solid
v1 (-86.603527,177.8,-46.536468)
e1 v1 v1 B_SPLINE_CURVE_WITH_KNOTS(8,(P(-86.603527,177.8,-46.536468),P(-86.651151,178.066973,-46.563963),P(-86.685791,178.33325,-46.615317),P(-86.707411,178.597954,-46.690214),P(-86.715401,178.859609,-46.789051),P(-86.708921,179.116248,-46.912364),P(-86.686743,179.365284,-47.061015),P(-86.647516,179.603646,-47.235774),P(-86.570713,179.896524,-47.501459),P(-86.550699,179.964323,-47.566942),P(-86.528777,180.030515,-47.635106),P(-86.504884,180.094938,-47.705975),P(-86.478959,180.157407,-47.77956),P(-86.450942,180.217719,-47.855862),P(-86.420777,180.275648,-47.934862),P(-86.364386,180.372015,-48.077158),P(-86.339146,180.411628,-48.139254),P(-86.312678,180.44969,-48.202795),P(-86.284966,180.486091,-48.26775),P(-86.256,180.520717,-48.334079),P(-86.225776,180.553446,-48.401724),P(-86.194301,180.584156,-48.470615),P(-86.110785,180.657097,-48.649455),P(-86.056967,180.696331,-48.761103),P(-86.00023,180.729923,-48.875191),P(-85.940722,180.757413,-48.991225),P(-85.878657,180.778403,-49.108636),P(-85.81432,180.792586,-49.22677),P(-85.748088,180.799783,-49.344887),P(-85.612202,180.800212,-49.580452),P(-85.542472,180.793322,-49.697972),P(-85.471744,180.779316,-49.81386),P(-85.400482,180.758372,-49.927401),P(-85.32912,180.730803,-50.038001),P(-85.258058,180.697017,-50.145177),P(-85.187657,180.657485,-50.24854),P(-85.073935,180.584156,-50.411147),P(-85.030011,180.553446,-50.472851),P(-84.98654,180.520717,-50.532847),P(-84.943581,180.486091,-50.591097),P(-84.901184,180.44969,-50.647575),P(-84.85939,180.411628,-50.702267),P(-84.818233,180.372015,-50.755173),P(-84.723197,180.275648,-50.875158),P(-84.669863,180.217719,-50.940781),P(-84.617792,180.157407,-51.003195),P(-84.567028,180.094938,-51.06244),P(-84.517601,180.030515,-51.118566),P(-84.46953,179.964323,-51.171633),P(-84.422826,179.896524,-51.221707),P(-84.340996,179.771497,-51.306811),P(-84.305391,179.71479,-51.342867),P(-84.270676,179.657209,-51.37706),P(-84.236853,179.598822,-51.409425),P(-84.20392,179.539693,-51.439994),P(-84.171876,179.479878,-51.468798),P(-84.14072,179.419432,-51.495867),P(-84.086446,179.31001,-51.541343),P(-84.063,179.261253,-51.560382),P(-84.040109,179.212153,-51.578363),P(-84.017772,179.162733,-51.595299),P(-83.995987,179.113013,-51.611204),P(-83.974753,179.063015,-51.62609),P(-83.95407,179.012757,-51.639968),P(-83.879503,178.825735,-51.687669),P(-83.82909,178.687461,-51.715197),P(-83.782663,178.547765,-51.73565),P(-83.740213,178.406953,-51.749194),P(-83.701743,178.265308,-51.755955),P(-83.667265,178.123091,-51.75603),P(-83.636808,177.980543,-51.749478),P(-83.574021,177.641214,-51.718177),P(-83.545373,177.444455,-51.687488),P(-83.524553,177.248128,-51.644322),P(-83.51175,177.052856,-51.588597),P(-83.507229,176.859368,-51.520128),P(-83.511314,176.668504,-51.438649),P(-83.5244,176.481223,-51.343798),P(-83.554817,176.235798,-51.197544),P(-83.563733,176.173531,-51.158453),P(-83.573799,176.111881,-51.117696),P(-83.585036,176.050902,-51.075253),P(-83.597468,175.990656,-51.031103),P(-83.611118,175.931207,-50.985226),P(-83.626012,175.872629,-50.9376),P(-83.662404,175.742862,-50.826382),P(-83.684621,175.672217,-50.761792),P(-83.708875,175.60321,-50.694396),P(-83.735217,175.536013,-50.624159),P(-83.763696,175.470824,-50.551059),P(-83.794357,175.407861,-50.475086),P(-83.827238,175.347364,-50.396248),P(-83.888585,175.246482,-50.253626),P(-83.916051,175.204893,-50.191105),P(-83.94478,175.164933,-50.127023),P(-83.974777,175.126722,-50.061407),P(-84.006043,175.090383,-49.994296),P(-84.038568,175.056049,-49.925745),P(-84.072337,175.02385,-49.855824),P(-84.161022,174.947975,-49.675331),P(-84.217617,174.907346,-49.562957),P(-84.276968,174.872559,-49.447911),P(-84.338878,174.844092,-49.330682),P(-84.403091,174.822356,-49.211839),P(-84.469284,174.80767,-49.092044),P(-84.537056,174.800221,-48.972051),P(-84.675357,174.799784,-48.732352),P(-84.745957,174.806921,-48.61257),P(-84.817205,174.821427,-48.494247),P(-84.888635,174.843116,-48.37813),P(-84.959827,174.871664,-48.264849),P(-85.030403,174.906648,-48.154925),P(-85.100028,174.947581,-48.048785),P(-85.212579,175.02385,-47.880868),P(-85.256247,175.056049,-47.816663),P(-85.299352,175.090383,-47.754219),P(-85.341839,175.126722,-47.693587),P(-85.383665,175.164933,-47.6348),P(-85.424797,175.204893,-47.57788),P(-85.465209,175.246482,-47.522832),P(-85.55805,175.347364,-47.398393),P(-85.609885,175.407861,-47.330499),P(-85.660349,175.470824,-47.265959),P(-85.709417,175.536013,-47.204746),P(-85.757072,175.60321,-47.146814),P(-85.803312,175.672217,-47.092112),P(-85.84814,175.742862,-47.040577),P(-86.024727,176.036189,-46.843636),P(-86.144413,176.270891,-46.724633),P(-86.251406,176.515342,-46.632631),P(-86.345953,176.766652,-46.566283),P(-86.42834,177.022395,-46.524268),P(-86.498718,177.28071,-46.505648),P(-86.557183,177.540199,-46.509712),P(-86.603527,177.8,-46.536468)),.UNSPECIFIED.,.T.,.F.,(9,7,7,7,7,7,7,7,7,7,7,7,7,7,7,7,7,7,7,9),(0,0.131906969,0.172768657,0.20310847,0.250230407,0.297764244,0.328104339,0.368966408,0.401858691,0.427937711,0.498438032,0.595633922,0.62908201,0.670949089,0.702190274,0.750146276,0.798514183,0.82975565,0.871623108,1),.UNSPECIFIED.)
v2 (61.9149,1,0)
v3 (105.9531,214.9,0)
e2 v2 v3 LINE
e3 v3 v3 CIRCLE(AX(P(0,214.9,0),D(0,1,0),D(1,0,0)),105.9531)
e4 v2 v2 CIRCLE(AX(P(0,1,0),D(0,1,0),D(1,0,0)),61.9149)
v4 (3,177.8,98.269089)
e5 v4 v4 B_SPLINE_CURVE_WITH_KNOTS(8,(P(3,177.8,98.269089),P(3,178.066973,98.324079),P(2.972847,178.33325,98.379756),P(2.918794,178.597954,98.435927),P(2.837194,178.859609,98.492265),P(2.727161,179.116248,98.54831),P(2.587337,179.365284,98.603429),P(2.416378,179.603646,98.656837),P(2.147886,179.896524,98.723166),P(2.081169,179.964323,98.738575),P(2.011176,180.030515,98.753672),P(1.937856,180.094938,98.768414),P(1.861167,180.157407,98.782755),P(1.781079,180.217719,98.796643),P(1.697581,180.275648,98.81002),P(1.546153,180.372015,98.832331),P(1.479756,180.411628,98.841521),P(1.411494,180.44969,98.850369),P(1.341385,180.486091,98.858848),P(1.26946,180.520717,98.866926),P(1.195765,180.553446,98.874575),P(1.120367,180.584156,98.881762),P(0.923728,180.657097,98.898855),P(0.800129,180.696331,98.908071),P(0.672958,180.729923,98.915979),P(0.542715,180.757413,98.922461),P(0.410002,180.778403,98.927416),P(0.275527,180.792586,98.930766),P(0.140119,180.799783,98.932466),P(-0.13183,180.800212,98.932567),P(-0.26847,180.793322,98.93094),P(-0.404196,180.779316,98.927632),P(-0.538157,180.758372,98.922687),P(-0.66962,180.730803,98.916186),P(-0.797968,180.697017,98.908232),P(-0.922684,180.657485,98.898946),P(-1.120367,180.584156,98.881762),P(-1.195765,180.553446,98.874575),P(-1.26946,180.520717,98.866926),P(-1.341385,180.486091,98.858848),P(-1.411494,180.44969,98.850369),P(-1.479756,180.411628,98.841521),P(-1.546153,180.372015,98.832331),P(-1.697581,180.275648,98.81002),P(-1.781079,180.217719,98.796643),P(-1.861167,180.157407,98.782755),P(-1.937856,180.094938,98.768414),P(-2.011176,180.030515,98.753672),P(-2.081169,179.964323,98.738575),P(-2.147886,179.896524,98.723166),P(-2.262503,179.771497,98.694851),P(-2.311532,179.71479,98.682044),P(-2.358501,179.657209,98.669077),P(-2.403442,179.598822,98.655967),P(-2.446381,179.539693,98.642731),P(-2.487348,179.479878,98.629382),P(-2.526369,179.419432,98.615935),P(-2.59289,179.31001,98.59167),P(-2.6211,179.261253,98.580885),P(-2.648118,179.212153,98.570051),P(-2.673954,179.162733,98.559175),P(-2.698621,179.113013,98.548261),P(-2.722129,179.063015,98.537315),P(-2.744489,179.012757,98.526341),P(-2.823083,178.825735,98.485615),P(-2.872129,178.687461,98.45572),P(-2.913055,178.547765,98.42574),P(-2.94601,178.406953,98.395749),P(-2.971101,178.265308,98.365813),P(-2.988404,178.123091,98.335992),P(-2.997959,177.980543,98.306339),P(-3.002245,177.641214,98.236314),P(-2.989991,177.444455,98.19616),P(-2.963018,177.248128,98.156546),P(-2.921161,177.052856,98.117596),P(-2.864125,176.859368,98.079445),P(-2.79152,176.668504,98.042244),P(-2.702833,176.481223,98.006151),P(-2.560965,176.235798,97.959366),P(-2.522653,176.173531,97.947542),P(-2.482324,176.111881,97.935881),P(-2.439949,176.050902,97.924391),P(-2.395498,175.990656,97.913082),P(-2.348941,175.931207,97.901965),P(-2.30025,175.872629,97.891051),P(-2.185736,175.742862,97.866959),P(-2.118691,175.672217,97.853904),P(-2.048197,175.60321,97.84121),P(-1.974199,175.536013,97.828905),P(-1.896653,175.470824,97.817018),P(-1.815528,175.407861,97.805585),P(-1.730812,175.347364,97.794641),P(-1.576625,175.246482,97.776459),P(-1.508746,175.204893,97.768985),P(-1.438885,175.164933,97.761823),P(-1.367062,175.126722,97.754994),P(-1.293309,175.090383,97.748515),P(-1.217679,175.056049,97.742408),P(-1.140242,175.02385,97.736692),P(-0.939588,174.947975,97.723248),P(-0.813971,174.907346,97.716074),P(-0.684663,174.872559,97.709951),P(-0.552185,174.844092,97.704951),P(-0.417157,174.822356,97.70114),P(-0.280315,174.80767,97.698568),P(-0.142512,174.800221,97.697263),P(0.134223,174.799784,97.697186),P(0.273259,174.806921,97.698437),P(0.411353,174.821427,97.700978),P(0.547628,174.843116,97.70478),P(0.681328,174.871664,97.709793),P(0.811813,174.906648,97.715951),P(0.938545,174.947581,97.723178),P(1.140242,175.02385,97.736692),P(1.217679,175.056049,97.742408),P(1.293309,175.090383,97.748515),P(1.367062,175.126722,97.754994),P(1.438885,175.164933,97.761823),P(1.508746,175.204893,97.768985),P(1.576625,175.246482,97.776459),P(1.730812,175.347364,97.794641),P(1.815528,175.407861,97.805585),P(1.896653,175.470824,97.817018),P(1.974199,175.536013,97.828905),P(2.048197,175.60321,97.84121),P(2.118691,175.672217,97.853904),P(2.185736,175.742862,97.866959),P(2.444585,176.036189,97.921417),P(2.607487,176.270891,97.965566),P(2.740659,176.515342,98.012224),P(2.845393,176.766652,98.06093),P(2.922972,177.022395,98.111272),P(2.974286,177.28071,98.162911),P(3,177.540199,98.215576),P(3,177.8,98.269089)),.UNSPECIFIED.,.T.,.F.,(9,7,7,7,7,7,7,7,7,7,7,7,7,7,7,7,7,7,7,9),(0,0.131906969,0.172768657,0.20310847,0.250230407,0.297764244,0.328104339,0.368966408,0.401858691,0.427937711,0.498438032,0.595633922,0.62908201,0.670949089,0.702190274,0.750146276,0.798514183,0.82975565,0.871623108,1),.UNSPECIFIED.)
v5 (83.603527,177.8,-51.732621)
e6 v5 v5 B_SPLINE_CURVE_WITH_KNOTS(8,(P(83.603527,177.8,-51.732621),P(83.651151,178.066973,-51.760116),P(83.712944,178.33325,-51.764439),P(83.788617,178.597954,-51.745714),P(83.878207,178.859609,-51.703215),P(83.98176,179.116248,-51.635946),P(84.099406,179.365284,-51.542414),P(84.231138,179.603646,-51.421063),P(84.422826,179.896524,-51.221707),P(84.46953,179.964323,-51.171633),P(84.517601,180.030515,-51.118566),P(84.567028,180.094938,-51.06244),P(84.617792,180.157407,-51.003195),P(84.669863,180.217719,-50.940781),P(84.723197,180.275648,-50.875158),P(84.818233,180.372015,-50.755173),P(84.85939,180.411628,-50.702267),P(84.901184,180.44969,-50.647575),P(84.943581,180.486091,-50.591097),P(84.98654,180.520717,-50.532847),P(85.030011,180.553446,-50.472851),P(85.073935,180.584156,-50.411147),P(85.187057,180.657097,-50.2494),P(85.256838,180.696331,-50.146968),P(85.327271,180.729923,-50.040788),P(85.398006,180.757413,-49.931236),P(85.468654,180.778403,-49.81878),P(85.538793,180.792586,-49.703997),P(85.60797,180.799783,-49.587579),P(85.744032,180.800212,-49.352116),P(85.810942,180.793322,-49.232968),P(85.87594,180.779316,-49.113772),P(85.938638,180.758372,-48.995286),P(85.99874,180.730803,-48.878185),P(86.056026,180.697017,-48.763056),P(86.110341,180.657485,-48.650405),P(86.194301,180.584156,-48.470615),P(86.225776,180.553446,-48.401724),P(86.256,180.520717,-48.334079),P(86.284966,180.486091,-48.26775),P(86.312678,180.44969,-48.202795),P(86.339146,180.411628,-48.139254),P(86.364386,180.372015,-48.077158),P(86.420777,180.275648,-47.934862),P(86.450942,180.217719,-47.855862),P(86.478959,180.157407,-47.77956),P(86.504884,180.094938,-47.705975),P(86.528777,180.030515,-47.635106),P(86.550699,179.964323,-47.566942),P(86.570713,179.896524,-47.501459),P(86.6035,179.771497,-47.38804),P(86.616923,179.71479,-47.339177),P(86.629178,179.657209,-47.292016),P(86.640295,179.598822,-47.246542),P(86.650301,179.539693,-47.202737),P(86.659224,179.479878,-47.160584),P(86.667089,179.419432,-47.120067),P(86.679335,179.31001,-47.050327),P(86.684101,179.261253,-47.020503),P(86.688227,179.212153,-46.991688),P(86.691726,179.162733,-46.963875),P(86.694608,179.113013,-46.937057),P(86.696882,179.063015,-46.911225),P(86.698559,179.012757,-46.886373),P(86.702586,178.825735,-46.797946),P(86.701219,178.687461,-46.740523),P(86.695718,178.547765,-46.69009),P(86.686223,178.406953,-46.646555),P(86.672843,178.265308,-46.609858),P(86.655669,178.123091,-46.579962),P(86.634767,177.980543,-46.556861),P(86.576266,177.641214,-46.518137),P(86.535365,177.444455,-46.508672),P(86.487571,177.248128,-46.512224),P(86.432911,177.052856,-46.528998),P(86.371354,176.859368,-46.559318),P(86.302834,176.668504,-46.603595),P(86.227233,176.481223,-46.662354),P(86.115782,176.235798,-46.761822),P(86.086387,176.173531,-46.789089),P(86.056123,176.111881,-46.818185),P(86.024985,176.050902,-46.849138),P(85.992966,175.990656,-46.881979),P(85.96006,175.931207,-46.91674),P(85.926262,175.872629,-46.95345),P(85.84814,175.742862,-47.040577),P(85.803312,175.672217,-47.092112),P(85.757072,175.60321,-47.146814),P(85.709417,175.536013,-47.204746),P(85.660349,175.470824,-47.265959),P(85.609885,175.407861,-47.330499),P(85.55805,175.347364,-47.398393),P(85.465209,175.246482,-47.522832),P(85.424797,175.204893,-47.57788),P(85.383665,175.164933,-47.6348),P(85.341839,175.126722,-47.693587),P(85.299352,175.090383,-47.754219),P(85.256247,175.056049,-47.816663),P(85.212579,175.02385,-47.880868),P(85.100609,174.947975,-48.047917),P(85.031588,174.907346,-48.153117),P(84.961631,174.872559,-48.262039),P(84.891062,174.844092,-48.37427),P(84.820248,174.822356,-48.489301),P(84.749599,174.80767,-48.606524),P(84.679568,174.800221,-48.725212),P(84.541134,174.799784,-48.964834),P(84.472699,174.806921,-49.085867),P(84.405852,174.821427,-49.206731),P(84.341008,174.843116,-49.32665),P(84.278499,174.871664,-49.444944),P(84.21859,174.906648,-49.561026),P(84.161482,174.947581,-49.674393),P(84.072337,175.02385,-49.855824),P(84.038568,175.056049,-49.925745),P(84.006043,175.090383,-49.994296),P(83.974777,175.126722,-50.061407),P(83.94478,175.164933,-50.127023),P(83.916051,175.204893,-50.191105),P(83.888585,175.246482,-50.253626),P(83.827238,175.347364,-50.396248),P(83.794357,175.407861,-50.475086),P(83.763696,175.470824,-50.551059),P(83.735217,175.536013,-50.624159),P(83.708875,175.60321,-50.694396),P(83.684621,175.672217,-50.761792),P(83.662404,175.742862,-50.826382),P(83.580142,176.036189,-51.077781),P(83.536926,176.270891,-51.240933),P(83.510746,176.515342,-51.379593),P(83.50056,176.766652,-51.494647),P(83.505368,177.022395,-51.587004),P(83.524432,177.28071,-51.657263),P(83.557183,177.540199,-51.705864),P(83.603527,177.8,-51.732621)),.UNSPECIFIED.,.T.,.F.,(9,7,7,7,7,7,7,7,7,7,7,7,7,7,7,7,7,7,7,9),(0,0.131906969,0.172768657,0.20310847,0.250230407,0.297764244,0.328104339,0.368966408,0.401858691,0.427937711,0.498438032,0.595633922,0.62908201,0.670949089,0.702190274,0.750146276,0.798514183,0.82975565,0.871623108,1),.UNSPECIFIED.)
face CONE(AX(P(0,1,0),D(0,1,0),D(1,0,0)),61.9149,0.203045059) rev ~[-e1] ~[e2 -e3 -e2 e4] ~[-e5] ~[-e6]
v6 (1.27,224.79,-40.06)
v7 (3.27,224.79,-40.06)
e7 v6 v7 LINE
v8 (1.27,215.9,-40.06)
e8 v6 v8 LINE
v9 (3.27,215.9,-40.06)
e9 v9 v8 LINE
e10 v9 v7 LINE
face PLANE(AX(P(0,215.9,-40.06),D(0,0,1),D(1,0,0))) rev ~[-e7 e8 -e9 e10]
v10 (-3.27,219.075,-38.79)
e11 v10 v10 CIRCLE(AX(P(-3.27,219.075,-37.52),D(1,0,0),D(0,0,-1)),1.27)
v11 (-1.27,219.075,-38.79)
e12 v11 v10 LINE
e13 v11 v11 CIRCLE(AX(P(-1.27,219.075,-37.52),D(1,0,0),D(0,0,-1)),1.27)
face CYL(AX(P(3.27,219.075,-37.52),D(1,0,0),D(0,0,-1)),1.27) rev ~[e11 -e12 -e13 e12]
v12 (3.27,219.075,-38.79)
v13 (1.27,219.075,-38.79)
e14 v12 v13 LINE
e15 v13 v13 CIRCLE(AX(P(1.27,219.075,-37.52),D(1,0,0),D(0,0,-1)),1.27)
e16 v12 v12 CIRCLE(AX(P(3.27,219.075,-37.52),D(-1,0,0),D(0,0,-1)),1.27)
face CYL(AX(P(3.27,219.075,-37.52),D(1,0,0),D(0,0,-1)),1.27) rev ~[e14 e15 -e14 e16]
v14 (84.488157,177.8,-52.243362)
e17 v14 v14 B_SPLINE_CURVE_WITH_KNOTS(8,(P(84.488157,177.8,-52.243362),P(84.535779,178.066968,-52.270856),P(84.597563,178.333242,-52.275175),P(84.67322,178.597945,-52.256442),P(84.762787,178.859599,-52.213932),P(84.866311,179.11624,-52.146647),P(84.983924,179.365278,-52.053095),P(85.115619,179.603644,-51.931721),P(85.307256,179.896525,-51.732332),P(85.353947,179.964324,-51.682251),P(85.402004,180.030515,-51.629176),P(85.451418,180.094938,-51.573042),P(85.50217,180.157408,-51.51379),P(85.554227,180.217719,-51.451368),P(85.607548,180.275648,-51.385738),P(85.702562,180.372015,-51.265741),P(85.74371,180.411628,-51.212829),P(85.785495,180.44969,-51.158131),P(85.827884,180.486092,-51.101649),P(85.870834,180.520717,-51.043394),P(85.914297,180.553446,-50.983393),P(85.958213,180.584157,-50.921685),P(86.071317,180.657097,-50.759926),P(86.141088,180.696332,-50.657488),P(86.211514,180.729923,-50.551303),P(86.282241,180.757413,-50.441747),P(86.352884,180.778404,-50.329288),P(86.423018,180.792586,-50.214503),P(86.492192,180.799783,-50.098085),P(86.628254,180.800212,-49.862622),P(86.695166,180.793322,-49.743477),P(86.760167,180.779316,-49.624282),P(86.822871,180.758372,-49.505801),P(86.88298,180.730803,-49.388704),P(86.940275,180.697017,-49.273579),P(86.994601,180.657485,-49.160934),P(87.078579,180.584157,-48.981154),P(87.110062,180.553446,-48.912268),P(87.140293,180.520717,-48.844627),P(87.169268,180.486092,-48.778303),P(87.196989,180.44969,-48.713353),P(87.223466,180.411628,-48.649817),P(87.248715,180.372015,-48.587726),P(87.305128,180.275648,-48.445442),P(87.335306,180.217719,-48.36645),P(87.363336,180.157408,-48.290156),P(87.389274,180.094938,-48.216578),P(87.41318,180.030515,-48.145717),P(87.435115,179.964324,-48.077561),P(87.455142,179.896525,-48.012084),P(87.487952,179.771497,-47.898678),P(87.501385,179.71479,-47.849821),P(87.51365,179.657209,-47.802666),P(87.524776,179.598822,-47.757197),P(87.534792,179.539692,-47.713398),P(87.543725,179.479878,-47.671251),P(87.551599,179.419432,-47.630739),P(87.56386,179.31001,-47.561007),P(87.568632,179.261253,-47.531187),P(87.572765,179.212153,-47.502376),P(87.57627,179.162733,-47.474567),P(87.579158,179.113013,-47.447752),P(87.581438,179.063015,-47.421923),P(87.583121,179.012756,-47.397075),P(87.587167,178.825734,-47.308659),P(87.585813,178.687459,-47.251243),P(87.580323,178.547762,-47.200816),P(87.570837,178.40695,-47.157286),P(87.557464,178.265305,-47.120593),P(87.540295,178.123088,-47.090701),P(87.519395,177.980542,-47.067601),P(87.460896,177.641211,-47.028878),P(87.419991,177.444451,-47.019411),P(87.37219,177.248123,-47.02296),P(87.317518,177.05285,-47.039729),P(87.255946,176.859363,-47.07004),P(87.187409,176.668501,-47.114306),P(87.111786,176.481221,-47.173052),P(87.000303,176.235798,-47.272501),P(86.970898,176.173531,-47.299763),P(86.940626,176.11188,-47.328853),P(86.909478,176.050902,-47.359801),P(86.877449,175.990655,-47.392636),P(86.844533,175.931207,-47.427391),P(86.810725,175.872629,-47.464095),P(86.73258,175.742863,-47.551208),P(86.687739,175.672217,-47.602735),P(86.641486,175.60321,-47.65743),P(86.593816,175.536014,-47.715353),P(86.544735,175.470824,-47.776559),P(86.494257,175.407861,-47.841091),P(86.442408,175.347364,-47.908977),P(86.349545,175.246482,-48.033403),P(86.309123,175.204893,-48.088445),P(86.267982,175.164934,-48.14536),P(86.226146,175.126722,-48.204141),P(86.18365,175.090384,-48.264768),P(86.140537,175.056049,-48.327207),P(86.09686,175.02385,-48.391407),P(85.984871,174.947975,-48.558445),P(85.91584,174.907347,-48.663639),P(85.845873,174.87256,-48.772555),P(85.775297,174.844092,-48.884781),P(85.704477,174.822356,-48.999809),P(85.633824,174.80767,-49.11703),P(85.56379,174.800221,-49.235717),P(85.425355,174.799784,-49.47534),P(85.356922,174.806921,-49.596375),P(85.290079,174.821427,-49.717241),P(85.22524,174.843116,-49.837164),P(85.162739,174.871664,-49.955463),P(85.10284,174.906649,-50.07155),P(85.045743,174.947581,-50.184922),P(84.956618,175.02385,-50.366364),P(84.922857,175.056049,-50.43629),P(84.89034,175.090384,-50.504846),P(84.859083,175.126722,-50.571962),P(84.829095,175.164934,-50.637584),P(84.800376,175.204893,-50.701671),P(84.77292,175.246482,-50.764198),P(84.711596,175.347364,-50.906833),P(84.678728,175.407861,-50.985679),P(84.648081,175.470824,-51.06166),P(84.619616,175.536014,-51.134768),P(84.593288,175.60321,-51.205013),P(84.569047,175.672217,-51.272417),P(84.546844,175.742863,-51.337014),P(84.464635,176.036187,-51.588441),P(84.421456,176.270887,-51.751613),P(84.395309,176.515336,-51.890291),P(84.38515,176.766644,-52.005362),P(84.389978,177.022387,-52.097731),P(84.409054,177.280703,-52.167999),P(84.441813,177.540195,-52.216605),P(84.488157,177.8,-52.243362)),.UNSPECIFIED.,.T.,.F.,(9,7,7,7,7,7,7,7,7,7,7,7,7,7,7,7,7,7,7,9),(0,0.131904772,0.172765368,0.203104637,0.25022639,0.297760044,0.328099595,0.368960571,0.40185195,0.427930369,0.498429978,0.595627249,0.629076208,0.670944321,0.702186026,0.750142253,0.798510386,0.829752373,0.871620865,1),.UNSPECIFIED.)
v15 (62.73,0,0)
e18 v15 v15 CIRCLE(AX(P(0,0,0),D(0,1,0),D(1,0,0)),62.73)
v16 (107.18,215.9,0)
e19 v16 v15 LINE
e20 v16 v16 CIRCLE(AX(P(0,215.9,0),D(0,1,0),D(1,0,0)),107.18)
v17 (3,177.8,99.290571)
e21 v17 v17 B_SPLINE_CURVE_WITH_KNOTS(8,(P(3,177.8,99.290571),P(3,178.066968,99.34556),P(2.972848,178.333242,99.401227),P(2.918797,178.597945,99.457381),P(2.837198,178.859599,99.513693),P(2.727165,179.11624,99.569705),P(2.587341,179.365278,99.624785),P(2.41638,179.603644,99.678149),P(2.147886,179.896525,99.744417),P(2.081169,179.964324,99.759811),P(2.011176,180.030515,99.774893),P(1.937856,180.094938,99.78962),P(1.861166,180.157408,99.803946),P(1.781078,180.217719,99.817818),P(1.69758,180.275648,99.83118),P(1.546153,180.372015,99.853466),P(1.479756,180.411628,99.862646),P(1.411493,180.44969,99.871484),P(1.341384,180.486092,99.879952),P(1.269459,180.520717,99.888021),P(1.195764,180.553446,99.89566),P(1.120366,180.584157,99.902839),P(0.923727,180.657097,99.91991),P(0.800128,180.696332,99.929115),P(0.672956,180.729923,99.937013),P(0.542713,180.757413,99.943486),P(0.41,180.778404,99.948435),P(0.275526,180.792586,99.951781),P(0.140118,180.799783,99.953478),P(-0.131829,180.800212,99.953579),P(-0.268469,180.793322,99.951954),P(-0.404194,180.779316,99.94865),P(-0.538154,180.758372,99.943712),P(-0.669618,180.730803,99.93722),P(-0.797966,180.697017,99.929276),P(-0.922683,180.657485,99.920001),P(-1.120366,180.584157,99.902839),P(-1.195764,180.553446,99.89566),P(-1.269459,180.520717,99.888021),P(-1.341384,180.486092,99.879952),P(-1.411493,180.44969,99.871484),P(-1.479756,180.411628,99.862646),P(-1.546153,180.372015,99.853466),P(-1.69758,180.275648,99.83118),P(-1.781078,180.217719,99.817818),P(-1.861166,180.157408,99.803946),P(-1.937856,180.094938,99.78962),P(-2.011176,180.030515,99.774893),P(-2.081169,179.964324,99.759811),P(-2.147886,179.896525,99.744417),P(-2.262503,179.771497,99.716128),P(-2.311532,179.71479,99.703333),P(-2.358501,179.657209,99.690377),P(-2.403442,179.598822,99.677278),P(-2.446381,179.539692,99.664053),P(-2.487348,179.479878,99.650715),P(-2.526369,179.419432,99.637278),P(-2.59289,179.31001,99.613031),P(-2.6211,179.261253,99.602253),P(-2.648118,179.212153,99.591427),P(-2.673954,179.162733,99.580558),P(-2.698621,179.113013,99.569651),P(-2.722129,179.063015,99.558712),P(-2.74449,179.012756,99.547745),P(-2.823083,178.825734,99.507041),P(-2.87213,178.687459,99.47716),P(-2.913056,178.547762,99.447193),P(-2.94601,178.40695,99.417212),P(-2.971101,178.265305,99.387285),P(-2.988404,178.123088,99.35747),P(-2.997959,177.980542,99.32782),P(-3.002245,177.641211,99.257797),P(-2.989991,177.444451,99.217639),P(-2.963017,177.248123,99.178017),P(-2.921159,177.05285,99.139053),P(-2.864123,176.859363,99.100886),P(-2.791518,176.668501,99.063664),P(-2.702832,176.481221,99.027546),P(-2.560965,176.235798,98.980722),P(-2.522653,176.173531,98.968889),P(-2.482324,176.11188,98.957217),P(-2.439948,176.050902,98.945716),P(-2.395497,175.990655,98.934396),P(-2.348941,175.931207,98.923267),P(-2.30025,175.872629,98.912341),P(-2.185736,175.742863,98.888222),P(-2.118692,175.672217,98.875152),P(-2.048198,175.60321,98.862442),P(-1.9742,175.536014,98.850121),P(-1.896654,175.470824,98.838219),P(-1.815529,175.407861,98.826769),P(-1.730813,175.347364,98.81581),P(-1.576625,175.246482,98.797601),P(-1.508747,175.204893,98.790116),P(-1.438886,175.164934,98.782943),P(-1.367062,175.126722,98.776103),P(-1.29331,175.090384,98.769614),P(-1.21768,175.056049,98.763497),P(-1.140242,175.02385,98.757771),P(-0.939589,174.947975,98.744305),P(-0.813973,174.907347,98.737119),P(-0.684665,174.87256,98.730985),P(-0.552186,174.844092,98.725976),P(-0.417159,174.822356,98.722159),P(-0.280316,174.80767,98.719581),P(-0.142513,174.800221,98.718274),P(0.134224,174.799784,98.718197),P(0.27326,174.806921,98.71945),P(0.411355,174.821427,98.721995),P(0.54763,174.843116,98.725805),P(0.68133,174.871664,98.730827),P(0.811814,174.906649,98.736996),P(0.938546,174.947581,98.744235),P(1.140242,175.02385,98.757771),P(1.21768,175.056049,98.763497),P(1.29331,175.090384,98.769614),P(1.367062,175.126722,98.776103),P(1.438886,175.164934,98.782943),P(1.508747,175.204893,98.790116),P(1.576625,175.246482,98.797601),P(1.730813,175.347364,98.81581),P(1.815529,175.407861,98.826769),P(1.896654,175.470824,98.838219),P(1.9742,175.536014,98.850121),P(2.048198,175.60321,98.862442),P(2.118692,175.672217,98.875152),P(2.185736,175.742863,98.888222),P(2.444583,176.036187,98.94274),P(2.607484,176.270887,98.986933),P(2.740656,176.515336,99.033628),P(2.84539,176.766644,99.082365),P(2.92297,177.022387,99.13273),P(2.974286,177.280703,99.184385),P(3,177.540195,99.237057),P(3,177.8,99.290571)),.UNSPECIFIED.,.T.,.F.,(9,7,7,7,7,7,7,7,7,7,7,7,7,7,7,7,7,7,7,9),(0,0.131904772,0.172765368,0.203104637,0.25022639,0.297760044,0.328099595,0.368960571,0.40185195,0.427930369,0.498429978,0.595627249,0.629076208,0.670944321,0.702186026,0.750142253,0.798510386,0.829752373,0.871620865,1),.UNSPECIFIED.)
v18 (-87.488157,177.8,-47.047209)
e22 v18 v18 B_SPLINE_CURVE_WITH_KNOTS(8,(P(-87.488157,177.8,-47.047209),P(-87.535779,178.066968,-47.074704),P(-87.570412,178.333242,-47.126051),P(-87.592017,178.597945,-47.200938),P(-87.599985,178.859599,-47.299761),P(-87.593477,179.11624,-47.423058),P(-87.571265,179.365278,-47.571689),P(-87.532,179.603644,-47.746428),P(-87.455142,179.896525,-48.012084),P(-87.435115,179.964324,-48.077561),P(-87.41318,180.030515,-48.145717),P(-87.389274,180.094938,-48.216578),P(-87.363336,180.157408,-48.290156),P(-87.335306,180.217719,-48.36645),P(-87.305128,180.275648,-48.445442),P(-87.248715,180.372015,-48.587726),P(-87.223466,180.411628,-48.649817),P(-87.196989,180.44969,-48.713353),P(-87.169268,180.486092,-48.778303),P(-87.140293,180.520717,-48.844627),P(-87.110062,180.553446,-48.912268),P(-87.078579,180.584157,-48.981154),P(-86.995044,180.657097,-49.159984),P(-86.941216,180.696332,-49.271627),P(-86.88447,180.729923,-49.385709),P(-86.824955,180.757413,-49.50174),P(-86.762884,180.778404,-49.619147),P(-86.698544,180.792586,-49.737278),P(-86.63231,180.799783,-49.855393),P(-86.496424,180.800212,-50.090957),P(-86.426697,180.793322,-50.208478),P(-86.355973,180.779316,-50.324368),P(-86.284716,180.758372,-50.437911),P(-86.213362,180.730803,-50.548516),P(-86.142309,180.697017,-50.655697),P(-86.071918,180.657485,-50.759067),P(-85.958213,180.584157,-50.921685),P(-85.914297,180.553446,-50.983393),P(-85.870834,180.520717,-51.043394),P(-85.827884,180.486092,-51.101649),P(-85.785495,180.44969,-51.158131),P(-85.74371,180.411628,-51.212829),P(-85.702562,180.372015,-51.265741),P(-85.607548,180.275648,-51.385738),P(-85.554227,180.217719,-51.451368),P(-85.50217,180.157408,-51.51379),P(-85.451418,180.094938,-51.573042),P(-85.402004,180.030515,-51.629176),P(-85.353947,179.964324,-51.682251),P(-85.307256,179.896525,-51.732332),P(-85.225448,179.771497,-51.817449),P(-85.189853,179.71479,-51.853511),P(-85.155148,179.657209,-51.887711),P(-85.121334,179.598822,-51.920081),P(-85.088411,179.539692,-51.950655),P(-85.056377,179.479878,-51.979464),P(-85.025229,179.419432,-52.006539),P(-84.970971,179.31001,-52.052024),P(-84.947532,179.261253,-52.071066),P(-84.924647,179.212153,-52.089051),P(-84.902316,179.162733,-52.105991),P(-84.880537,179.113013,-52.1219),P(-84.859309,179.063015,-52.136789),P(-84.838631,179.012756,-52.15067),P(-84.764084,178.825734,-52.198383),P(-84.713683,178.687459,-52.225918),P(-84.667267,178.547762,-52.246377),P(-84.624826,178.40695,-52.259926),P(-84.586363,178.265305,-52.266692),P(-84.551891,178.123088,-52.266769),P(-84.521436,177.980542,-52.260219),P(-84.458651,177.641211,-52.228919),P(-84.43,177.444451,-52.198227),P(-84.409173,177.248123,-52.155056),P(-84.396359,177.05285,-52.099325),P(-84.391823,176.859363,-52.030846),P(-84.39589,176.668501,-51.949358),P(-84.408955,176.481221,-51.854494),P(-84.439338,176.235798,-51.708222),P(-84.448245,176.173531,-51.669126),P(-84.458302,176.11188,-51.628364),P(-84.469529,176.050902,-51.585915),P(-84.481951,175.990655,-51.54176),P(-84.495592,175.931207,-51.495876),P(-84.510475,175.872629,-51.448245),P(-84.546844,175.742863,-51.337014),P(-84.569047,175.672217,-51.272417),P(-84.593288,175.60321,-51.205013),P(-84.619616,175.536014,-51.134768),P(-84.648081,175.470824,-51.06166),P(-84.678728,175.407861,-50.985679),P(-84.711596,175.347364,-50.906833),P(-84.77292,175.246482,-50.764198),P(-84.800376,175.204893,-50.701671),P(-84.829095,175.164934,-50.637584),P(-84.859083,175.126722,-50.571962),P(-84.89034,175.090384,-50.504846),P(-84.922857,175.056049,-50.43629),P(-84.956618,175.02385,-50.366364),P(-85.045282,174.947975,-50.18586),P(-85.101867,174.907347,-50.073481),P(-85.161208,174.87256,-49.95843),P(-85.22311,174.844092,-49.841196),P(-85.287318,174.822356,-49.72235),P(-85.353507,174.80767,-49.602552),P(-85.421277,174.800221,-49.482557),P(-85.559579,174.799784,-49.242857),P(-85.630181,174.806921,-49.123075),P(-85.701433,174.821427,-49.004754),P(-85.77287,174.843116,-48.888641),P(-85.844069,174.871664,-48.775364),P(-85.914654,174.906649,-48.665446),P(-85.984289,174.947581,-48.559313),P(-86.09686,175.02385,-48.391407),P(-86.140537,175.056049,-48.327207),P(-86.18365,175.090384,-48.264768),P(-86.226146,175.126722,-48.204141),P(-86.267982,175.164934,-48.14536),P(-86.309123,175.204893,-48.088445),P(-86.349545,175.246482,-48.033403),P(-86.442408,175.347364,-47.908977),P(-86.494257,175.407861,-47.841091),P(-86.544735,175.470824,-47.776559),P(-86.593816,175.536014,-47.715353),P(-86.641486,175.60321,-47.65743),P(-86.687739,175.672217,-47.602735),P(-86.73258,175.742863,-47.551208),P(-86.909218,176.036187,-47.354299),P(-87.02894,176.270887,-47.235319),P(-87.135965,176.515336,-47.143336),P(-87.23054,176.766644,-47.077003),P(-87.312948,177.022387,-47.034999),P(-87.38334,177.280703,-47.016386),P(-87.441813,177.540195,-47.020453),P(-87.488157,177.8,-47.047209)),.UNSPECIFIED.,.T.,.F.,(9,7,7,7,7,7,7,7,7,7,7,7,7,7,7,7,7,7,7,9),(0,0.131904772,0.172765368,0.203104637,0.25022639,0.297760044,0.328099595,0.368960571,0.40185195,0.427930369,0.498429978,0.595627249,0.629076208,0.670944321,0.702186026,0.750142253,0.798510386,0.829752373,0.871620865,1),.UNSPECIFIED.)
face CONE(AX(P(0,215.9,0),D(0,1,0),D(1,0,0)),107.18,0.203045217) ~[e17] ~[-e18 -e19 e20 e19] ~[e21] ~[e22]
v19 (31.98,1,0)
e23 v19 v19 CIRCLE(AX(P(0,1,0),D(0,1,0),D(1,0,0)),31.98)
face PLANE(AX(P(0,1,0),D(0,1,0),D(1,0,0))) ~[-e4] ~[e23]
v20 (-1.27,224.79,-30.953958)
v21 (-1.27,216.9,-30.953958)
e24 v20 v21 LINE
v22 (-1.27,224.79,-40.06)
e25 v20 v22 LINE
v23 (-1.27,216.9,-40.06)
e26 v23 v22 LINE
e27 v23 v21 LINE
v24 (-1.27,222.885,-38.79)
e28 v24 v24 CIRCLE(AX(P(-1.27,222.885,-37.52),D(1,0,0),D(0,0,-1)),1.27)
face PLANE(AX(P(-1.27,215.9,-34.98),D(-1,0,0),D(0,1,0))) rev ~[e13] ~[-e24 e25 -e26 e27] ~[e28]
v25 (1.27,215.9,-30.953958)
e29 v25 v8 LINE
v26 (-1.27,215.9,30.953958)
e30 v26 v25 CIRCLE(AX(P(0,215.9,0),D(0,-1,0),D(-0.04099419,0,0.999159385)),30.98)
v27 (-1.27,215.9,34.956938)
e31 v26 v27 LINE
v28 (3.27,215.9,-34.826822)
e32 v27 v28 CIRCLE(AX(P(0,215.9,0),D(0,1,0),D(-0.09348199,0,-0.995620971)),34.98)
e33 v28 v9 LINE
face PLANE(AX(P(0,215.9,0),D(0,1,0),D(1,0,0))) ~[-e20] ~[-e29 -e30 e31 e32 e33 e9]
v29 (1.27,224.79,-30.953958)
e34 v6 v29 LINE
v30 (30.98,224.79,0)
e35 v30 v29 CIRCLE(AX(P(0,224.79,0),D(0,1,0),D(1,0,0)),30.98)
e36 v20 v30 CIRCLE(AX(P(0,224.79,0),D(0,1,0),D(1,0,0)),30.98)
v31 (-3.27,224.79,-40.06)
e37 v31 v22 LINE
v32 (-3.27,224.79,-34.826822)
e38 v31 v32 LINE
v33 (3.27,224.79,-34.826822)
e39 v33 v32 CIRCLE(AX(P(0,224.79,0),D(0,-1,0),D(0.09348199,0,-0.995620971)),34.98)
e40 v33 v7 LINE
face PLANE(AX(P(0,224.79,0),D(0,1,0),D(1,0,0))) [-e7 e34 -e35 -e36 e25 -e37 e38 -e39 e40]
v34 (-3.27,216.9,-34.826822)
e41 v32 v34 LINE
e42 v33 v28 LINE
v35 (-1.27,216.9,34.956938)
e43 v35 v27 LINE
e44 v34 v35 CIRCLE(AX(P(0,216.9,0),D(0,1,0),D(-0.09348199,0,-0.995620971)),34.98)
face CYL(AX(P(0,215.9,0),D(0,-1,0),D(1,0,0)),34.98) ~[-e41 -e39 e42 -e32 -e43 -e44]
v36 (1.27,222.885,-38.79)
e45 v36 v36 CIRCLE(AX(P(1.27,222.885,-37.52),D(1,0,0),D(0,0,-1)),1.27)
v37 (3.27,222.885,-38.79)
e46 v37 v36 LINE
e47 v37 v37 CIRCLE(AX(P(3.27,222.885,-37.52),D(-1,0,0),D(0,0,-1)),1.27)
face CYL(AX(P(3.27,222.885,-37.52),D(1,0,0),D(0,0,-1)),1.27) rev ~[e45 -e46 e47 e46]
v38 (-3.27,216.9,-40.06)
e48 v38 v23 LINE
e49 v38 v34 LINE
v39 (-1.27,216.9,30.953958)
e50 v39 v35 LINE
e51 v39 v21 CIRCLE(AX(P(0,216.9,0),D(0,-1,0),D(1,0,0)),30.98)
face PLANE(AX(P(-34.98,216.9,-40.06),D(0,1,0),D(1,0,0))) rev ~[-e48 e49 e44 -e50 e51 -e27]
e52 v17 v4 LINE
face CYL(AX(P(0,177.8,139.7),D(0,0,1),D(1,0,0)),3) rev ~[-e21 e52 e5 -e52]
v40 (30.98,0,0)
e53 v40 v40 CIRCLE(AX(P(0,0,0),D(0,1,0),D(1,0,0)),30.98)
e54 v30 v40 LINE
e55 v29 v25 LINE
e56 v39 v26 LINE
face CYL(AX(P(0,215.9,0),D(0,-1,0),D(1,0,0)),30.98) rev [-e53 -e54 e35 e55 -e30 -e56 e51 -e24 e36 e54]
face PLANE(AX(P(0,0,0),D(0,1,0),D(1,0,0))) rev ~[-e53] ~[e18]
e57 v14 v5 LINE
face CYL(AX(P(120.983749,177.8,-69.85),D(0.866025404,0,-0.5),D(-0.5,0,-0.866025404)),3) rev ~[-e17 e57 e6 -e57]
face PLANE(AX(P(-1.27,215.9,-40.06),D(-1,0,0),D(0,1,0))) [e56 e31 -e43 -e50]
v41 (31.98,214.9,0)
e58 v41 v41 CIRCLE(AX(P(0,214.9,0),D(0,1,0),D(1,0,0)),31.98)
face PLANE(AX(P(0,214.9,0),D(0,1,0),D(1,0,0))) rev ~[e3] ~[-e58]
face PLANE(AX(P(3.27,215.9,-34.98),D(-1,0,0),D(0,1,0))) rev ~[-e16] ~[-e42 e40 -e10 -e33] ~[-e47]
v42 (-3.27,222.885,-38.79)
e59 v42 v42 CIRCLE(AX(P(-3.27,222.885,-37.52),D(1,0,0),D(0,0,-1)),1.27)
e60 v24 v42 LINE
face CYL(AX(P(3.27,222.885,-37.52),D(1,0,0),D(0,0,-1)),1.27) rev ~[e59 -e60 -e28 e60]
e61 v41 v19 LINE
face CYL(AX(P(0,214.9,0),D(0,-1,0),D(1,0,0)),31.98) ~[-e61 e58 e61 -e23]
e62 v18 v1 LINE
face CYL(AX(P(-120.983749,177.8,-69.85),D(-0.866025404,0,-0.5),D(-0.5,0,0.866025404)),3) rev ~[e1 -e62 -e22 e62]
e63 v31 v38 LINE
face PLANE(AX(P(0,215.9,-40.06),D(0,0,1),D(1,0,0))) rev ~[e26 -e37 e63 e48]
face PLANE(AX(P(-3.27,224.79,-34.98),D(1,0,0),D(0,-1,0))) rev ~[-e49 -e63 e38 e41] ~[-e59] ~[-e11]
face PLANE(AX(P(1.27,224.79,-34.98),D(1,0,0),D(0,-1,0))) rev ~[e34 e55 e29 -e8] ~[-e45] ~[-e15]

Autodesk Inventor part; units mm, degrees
ref_plane "YZ Plane" through (0, 0, 0) normal (1, 0, 0) x (0, 1, 0)
sketch "Sketch2" plane through (0, 0, 0) normal (0, 0, 1) x (1, 0, 0)
  line L0 (0, 0) -> (0, 304.8)
  line L1 (30.98, 0) -> (30.98, 215.9)
  line L2 (30.98, 215.9) -> (107.18, 215.9)
  line L3 (107.18, 215.9) -> (62.73, 0)
  line L4 (62.73, 0) -> (30.98, 0)
  line L5 (105.9531, 214.9) -> (31.98, 214.9)
  line L6 (31.98, 214.9) -> (31.98, 1)
  line L7 (31.98, 1) -> (61.9149, 1)
  line L8 (61.9149, 1) -> (105.9531, 214.9)
  dimension "d2" = 304.8
  dimension "d3" = 30.98
  dimension "d4" = 76.2
  dimension "d5" = 31.75
  dimension "d7" = 215.9
  dimension "d8" = 0
  dimension "d9" = 1
revolve "Revolution1" add sketch "Sketch2" angle 360 about axis through (0, 0, 0) along (0, 1, 0)
ref_plane "Work Plane1" through (0, 0, 139.7) normal (0, 0, 1) x (1, 0, 0)
sketch "Sketch3" plane through (0, 0, 139.7) normal (0, 0, 1) x (1, 0, 0)
  circle A0 centre (0, 177.8) radius 3
  line L0 (107.18, 215.9) -> (-107.18, 215.9) projected
  line L1 (0, 0) -> (0, 215.9)
  dimension "d12" = 6
  dimension "d13" = 38.1
extrude "Extrusion1" cut sketch "Sketch3" against normal blind 52.3875
pattern_circular "Circular Pattern1" count 3 over 360 about axis through (0, 107.95, 0) along (0, 1, 0) of "Extrusion1"
sketch "Sketch4" plane through (0, 215.9, 0) normal (0, 1, 0) x (1, 0, 0)
  circle A0 centre (0, 0) radius 30.98
  circle A1 centre (0, 0) radius 30.98 projected
  circle A2 centre (0, 0) radius 34.98
  dimension "d19" = 4
extrude "Extrusion2" add sketch "Sketch4" along normal blind 8.89
ref_plane "Work Plane2" through (0, 215.9, -34.98) normal (0, 0, 1) x (1, 0, 0)
sketch "Sketch5" plane through (0, 215.9, -34.98) normal (0, 0, 1) x (1, 0, 0)
  line L0 (-30.98, 8.89) -> (30.98, 8.89) projected
  line L1 (107.18, 0) -> (-107.18, 0) projected
  line L2 (3.27, 8.89) -> (1.27, 8.89)
  line L3 (1.27, 8.89) -> (1.27, 0)
  line L4 (1.27, 0) -> (3.27, 0)
  line L5 (3.27, 0) -> (3.27, 8.89)
  line L6 (-1.27, 8.89) -> (-3.27, 8.89)
  line L7 (-3.27, 8.89) -> (-3.27, 0)
  line L8 (-3.27, 0) -> (-1.27, 0)
  line L9 (-1.27, 0) -> (-1.27, 8.89)
  line L10 (0, 8.89) -> (0, 0)
  point P0 (0, -215.9)
  point P1 (3.27, 0)
  point P2 (1.27, 8.89)
  point P3 (-1.27, 0)
  point P4 (-1.27, 8.89)
  point P5 (-3.27, 8.89)
  point P6 (-3.27, 0)
  dimension "d22" = 2
  dimension "d24" = 2.54
extrude "Extrusion3" add sketch "Sketch5" along normal blind 2.54 and the other way blind 5.08 contours L0 L9 L1 L7 | L0 L5 L1 L3
sketch "Sketch7" plane through (0, 215.9, -34.98) normal (0, 0, 1) x (1, 0, 0)
  line L0 (1.27, 0) -> (1.27, 8.89) projected
  line L1 (-30.98, 8.89) -> (30.98, 8.89) projected
  line L2 (1.27, 0) -> (-1.27, 0)
  line L3 (-1.27, 0) -> (-1.27, 8.89)
  line L4 (-1.27, 8.89) -> (1.27, 8.89)
  line L5 (1.27, 8.89) -> (1.27, 0)
  line L6 (-1.27, 8.89) -> (-1.27, 0) projected
  point P0 (0, -215.9)
  dimension "d29" = 0
extrude "Extrusion4" cut sketch "Sketch7" along normal up to surface
sketch "Sketch8" plane through (3.27, 215.9, -34.8268) normal (1, 0, 0) x (0, 0, -1)
  line L0 (0, 8.89) -> (5.2332, 8.89) projected
  line L1 (2.6932, 8.89) -> (2.6932, 0)
  line L2 (72.3532, 0) -> (-142.0068, 0) projected
  line L3 (5.2332, 8.89) -> (5.2332, 0) projected
  circle A0 centre (2.6932, 6.985) radius 1.27
  circle A1 centre (2.6932, 3.175) radius 1.27
  point P0 (-34.8268, -215.9)
  dimension "d32" = 0
  dimension "d33" = 2.54
  dimension "d37" = 2.54
  dimension "d38" = 2.54
  dimension "d39" = 1.905
  dimension "d40" = 3.81
sketch "Sketch9" plane through (0, 215.9, -40.06) normal (0, 0, -1) x (-1, 0, 0)
  line L0 (1.27, 0) -> (1.27, 8.89) projected
  line L1 (34.98, 0) -> (34.98, 8.89) projected
  line L2 (1.27, 0) -> (34.98, 0)
  line L3 (34.98, 0) -> (34.98, 1)
  line L4 (34.98, 1) -> (1.27, 1)
  line L5 (1.27, 1) -> (1.27, 0)
  point P0 (0, -215.9)
  point P1 (1.27, 1)
  dimension "d34" = 1
extrude "Extrusion5" cut sketch "Sketch9" against normal blind 101.6
extrude "Extrusion6" cut sketch "Sketch8" against normal up to surface (6.54 mm away) contours A0 L1 | L1 A0 | A1 L1 | L1 A1
properties part number "Water Sensor Bouy 4_3DPrint"
